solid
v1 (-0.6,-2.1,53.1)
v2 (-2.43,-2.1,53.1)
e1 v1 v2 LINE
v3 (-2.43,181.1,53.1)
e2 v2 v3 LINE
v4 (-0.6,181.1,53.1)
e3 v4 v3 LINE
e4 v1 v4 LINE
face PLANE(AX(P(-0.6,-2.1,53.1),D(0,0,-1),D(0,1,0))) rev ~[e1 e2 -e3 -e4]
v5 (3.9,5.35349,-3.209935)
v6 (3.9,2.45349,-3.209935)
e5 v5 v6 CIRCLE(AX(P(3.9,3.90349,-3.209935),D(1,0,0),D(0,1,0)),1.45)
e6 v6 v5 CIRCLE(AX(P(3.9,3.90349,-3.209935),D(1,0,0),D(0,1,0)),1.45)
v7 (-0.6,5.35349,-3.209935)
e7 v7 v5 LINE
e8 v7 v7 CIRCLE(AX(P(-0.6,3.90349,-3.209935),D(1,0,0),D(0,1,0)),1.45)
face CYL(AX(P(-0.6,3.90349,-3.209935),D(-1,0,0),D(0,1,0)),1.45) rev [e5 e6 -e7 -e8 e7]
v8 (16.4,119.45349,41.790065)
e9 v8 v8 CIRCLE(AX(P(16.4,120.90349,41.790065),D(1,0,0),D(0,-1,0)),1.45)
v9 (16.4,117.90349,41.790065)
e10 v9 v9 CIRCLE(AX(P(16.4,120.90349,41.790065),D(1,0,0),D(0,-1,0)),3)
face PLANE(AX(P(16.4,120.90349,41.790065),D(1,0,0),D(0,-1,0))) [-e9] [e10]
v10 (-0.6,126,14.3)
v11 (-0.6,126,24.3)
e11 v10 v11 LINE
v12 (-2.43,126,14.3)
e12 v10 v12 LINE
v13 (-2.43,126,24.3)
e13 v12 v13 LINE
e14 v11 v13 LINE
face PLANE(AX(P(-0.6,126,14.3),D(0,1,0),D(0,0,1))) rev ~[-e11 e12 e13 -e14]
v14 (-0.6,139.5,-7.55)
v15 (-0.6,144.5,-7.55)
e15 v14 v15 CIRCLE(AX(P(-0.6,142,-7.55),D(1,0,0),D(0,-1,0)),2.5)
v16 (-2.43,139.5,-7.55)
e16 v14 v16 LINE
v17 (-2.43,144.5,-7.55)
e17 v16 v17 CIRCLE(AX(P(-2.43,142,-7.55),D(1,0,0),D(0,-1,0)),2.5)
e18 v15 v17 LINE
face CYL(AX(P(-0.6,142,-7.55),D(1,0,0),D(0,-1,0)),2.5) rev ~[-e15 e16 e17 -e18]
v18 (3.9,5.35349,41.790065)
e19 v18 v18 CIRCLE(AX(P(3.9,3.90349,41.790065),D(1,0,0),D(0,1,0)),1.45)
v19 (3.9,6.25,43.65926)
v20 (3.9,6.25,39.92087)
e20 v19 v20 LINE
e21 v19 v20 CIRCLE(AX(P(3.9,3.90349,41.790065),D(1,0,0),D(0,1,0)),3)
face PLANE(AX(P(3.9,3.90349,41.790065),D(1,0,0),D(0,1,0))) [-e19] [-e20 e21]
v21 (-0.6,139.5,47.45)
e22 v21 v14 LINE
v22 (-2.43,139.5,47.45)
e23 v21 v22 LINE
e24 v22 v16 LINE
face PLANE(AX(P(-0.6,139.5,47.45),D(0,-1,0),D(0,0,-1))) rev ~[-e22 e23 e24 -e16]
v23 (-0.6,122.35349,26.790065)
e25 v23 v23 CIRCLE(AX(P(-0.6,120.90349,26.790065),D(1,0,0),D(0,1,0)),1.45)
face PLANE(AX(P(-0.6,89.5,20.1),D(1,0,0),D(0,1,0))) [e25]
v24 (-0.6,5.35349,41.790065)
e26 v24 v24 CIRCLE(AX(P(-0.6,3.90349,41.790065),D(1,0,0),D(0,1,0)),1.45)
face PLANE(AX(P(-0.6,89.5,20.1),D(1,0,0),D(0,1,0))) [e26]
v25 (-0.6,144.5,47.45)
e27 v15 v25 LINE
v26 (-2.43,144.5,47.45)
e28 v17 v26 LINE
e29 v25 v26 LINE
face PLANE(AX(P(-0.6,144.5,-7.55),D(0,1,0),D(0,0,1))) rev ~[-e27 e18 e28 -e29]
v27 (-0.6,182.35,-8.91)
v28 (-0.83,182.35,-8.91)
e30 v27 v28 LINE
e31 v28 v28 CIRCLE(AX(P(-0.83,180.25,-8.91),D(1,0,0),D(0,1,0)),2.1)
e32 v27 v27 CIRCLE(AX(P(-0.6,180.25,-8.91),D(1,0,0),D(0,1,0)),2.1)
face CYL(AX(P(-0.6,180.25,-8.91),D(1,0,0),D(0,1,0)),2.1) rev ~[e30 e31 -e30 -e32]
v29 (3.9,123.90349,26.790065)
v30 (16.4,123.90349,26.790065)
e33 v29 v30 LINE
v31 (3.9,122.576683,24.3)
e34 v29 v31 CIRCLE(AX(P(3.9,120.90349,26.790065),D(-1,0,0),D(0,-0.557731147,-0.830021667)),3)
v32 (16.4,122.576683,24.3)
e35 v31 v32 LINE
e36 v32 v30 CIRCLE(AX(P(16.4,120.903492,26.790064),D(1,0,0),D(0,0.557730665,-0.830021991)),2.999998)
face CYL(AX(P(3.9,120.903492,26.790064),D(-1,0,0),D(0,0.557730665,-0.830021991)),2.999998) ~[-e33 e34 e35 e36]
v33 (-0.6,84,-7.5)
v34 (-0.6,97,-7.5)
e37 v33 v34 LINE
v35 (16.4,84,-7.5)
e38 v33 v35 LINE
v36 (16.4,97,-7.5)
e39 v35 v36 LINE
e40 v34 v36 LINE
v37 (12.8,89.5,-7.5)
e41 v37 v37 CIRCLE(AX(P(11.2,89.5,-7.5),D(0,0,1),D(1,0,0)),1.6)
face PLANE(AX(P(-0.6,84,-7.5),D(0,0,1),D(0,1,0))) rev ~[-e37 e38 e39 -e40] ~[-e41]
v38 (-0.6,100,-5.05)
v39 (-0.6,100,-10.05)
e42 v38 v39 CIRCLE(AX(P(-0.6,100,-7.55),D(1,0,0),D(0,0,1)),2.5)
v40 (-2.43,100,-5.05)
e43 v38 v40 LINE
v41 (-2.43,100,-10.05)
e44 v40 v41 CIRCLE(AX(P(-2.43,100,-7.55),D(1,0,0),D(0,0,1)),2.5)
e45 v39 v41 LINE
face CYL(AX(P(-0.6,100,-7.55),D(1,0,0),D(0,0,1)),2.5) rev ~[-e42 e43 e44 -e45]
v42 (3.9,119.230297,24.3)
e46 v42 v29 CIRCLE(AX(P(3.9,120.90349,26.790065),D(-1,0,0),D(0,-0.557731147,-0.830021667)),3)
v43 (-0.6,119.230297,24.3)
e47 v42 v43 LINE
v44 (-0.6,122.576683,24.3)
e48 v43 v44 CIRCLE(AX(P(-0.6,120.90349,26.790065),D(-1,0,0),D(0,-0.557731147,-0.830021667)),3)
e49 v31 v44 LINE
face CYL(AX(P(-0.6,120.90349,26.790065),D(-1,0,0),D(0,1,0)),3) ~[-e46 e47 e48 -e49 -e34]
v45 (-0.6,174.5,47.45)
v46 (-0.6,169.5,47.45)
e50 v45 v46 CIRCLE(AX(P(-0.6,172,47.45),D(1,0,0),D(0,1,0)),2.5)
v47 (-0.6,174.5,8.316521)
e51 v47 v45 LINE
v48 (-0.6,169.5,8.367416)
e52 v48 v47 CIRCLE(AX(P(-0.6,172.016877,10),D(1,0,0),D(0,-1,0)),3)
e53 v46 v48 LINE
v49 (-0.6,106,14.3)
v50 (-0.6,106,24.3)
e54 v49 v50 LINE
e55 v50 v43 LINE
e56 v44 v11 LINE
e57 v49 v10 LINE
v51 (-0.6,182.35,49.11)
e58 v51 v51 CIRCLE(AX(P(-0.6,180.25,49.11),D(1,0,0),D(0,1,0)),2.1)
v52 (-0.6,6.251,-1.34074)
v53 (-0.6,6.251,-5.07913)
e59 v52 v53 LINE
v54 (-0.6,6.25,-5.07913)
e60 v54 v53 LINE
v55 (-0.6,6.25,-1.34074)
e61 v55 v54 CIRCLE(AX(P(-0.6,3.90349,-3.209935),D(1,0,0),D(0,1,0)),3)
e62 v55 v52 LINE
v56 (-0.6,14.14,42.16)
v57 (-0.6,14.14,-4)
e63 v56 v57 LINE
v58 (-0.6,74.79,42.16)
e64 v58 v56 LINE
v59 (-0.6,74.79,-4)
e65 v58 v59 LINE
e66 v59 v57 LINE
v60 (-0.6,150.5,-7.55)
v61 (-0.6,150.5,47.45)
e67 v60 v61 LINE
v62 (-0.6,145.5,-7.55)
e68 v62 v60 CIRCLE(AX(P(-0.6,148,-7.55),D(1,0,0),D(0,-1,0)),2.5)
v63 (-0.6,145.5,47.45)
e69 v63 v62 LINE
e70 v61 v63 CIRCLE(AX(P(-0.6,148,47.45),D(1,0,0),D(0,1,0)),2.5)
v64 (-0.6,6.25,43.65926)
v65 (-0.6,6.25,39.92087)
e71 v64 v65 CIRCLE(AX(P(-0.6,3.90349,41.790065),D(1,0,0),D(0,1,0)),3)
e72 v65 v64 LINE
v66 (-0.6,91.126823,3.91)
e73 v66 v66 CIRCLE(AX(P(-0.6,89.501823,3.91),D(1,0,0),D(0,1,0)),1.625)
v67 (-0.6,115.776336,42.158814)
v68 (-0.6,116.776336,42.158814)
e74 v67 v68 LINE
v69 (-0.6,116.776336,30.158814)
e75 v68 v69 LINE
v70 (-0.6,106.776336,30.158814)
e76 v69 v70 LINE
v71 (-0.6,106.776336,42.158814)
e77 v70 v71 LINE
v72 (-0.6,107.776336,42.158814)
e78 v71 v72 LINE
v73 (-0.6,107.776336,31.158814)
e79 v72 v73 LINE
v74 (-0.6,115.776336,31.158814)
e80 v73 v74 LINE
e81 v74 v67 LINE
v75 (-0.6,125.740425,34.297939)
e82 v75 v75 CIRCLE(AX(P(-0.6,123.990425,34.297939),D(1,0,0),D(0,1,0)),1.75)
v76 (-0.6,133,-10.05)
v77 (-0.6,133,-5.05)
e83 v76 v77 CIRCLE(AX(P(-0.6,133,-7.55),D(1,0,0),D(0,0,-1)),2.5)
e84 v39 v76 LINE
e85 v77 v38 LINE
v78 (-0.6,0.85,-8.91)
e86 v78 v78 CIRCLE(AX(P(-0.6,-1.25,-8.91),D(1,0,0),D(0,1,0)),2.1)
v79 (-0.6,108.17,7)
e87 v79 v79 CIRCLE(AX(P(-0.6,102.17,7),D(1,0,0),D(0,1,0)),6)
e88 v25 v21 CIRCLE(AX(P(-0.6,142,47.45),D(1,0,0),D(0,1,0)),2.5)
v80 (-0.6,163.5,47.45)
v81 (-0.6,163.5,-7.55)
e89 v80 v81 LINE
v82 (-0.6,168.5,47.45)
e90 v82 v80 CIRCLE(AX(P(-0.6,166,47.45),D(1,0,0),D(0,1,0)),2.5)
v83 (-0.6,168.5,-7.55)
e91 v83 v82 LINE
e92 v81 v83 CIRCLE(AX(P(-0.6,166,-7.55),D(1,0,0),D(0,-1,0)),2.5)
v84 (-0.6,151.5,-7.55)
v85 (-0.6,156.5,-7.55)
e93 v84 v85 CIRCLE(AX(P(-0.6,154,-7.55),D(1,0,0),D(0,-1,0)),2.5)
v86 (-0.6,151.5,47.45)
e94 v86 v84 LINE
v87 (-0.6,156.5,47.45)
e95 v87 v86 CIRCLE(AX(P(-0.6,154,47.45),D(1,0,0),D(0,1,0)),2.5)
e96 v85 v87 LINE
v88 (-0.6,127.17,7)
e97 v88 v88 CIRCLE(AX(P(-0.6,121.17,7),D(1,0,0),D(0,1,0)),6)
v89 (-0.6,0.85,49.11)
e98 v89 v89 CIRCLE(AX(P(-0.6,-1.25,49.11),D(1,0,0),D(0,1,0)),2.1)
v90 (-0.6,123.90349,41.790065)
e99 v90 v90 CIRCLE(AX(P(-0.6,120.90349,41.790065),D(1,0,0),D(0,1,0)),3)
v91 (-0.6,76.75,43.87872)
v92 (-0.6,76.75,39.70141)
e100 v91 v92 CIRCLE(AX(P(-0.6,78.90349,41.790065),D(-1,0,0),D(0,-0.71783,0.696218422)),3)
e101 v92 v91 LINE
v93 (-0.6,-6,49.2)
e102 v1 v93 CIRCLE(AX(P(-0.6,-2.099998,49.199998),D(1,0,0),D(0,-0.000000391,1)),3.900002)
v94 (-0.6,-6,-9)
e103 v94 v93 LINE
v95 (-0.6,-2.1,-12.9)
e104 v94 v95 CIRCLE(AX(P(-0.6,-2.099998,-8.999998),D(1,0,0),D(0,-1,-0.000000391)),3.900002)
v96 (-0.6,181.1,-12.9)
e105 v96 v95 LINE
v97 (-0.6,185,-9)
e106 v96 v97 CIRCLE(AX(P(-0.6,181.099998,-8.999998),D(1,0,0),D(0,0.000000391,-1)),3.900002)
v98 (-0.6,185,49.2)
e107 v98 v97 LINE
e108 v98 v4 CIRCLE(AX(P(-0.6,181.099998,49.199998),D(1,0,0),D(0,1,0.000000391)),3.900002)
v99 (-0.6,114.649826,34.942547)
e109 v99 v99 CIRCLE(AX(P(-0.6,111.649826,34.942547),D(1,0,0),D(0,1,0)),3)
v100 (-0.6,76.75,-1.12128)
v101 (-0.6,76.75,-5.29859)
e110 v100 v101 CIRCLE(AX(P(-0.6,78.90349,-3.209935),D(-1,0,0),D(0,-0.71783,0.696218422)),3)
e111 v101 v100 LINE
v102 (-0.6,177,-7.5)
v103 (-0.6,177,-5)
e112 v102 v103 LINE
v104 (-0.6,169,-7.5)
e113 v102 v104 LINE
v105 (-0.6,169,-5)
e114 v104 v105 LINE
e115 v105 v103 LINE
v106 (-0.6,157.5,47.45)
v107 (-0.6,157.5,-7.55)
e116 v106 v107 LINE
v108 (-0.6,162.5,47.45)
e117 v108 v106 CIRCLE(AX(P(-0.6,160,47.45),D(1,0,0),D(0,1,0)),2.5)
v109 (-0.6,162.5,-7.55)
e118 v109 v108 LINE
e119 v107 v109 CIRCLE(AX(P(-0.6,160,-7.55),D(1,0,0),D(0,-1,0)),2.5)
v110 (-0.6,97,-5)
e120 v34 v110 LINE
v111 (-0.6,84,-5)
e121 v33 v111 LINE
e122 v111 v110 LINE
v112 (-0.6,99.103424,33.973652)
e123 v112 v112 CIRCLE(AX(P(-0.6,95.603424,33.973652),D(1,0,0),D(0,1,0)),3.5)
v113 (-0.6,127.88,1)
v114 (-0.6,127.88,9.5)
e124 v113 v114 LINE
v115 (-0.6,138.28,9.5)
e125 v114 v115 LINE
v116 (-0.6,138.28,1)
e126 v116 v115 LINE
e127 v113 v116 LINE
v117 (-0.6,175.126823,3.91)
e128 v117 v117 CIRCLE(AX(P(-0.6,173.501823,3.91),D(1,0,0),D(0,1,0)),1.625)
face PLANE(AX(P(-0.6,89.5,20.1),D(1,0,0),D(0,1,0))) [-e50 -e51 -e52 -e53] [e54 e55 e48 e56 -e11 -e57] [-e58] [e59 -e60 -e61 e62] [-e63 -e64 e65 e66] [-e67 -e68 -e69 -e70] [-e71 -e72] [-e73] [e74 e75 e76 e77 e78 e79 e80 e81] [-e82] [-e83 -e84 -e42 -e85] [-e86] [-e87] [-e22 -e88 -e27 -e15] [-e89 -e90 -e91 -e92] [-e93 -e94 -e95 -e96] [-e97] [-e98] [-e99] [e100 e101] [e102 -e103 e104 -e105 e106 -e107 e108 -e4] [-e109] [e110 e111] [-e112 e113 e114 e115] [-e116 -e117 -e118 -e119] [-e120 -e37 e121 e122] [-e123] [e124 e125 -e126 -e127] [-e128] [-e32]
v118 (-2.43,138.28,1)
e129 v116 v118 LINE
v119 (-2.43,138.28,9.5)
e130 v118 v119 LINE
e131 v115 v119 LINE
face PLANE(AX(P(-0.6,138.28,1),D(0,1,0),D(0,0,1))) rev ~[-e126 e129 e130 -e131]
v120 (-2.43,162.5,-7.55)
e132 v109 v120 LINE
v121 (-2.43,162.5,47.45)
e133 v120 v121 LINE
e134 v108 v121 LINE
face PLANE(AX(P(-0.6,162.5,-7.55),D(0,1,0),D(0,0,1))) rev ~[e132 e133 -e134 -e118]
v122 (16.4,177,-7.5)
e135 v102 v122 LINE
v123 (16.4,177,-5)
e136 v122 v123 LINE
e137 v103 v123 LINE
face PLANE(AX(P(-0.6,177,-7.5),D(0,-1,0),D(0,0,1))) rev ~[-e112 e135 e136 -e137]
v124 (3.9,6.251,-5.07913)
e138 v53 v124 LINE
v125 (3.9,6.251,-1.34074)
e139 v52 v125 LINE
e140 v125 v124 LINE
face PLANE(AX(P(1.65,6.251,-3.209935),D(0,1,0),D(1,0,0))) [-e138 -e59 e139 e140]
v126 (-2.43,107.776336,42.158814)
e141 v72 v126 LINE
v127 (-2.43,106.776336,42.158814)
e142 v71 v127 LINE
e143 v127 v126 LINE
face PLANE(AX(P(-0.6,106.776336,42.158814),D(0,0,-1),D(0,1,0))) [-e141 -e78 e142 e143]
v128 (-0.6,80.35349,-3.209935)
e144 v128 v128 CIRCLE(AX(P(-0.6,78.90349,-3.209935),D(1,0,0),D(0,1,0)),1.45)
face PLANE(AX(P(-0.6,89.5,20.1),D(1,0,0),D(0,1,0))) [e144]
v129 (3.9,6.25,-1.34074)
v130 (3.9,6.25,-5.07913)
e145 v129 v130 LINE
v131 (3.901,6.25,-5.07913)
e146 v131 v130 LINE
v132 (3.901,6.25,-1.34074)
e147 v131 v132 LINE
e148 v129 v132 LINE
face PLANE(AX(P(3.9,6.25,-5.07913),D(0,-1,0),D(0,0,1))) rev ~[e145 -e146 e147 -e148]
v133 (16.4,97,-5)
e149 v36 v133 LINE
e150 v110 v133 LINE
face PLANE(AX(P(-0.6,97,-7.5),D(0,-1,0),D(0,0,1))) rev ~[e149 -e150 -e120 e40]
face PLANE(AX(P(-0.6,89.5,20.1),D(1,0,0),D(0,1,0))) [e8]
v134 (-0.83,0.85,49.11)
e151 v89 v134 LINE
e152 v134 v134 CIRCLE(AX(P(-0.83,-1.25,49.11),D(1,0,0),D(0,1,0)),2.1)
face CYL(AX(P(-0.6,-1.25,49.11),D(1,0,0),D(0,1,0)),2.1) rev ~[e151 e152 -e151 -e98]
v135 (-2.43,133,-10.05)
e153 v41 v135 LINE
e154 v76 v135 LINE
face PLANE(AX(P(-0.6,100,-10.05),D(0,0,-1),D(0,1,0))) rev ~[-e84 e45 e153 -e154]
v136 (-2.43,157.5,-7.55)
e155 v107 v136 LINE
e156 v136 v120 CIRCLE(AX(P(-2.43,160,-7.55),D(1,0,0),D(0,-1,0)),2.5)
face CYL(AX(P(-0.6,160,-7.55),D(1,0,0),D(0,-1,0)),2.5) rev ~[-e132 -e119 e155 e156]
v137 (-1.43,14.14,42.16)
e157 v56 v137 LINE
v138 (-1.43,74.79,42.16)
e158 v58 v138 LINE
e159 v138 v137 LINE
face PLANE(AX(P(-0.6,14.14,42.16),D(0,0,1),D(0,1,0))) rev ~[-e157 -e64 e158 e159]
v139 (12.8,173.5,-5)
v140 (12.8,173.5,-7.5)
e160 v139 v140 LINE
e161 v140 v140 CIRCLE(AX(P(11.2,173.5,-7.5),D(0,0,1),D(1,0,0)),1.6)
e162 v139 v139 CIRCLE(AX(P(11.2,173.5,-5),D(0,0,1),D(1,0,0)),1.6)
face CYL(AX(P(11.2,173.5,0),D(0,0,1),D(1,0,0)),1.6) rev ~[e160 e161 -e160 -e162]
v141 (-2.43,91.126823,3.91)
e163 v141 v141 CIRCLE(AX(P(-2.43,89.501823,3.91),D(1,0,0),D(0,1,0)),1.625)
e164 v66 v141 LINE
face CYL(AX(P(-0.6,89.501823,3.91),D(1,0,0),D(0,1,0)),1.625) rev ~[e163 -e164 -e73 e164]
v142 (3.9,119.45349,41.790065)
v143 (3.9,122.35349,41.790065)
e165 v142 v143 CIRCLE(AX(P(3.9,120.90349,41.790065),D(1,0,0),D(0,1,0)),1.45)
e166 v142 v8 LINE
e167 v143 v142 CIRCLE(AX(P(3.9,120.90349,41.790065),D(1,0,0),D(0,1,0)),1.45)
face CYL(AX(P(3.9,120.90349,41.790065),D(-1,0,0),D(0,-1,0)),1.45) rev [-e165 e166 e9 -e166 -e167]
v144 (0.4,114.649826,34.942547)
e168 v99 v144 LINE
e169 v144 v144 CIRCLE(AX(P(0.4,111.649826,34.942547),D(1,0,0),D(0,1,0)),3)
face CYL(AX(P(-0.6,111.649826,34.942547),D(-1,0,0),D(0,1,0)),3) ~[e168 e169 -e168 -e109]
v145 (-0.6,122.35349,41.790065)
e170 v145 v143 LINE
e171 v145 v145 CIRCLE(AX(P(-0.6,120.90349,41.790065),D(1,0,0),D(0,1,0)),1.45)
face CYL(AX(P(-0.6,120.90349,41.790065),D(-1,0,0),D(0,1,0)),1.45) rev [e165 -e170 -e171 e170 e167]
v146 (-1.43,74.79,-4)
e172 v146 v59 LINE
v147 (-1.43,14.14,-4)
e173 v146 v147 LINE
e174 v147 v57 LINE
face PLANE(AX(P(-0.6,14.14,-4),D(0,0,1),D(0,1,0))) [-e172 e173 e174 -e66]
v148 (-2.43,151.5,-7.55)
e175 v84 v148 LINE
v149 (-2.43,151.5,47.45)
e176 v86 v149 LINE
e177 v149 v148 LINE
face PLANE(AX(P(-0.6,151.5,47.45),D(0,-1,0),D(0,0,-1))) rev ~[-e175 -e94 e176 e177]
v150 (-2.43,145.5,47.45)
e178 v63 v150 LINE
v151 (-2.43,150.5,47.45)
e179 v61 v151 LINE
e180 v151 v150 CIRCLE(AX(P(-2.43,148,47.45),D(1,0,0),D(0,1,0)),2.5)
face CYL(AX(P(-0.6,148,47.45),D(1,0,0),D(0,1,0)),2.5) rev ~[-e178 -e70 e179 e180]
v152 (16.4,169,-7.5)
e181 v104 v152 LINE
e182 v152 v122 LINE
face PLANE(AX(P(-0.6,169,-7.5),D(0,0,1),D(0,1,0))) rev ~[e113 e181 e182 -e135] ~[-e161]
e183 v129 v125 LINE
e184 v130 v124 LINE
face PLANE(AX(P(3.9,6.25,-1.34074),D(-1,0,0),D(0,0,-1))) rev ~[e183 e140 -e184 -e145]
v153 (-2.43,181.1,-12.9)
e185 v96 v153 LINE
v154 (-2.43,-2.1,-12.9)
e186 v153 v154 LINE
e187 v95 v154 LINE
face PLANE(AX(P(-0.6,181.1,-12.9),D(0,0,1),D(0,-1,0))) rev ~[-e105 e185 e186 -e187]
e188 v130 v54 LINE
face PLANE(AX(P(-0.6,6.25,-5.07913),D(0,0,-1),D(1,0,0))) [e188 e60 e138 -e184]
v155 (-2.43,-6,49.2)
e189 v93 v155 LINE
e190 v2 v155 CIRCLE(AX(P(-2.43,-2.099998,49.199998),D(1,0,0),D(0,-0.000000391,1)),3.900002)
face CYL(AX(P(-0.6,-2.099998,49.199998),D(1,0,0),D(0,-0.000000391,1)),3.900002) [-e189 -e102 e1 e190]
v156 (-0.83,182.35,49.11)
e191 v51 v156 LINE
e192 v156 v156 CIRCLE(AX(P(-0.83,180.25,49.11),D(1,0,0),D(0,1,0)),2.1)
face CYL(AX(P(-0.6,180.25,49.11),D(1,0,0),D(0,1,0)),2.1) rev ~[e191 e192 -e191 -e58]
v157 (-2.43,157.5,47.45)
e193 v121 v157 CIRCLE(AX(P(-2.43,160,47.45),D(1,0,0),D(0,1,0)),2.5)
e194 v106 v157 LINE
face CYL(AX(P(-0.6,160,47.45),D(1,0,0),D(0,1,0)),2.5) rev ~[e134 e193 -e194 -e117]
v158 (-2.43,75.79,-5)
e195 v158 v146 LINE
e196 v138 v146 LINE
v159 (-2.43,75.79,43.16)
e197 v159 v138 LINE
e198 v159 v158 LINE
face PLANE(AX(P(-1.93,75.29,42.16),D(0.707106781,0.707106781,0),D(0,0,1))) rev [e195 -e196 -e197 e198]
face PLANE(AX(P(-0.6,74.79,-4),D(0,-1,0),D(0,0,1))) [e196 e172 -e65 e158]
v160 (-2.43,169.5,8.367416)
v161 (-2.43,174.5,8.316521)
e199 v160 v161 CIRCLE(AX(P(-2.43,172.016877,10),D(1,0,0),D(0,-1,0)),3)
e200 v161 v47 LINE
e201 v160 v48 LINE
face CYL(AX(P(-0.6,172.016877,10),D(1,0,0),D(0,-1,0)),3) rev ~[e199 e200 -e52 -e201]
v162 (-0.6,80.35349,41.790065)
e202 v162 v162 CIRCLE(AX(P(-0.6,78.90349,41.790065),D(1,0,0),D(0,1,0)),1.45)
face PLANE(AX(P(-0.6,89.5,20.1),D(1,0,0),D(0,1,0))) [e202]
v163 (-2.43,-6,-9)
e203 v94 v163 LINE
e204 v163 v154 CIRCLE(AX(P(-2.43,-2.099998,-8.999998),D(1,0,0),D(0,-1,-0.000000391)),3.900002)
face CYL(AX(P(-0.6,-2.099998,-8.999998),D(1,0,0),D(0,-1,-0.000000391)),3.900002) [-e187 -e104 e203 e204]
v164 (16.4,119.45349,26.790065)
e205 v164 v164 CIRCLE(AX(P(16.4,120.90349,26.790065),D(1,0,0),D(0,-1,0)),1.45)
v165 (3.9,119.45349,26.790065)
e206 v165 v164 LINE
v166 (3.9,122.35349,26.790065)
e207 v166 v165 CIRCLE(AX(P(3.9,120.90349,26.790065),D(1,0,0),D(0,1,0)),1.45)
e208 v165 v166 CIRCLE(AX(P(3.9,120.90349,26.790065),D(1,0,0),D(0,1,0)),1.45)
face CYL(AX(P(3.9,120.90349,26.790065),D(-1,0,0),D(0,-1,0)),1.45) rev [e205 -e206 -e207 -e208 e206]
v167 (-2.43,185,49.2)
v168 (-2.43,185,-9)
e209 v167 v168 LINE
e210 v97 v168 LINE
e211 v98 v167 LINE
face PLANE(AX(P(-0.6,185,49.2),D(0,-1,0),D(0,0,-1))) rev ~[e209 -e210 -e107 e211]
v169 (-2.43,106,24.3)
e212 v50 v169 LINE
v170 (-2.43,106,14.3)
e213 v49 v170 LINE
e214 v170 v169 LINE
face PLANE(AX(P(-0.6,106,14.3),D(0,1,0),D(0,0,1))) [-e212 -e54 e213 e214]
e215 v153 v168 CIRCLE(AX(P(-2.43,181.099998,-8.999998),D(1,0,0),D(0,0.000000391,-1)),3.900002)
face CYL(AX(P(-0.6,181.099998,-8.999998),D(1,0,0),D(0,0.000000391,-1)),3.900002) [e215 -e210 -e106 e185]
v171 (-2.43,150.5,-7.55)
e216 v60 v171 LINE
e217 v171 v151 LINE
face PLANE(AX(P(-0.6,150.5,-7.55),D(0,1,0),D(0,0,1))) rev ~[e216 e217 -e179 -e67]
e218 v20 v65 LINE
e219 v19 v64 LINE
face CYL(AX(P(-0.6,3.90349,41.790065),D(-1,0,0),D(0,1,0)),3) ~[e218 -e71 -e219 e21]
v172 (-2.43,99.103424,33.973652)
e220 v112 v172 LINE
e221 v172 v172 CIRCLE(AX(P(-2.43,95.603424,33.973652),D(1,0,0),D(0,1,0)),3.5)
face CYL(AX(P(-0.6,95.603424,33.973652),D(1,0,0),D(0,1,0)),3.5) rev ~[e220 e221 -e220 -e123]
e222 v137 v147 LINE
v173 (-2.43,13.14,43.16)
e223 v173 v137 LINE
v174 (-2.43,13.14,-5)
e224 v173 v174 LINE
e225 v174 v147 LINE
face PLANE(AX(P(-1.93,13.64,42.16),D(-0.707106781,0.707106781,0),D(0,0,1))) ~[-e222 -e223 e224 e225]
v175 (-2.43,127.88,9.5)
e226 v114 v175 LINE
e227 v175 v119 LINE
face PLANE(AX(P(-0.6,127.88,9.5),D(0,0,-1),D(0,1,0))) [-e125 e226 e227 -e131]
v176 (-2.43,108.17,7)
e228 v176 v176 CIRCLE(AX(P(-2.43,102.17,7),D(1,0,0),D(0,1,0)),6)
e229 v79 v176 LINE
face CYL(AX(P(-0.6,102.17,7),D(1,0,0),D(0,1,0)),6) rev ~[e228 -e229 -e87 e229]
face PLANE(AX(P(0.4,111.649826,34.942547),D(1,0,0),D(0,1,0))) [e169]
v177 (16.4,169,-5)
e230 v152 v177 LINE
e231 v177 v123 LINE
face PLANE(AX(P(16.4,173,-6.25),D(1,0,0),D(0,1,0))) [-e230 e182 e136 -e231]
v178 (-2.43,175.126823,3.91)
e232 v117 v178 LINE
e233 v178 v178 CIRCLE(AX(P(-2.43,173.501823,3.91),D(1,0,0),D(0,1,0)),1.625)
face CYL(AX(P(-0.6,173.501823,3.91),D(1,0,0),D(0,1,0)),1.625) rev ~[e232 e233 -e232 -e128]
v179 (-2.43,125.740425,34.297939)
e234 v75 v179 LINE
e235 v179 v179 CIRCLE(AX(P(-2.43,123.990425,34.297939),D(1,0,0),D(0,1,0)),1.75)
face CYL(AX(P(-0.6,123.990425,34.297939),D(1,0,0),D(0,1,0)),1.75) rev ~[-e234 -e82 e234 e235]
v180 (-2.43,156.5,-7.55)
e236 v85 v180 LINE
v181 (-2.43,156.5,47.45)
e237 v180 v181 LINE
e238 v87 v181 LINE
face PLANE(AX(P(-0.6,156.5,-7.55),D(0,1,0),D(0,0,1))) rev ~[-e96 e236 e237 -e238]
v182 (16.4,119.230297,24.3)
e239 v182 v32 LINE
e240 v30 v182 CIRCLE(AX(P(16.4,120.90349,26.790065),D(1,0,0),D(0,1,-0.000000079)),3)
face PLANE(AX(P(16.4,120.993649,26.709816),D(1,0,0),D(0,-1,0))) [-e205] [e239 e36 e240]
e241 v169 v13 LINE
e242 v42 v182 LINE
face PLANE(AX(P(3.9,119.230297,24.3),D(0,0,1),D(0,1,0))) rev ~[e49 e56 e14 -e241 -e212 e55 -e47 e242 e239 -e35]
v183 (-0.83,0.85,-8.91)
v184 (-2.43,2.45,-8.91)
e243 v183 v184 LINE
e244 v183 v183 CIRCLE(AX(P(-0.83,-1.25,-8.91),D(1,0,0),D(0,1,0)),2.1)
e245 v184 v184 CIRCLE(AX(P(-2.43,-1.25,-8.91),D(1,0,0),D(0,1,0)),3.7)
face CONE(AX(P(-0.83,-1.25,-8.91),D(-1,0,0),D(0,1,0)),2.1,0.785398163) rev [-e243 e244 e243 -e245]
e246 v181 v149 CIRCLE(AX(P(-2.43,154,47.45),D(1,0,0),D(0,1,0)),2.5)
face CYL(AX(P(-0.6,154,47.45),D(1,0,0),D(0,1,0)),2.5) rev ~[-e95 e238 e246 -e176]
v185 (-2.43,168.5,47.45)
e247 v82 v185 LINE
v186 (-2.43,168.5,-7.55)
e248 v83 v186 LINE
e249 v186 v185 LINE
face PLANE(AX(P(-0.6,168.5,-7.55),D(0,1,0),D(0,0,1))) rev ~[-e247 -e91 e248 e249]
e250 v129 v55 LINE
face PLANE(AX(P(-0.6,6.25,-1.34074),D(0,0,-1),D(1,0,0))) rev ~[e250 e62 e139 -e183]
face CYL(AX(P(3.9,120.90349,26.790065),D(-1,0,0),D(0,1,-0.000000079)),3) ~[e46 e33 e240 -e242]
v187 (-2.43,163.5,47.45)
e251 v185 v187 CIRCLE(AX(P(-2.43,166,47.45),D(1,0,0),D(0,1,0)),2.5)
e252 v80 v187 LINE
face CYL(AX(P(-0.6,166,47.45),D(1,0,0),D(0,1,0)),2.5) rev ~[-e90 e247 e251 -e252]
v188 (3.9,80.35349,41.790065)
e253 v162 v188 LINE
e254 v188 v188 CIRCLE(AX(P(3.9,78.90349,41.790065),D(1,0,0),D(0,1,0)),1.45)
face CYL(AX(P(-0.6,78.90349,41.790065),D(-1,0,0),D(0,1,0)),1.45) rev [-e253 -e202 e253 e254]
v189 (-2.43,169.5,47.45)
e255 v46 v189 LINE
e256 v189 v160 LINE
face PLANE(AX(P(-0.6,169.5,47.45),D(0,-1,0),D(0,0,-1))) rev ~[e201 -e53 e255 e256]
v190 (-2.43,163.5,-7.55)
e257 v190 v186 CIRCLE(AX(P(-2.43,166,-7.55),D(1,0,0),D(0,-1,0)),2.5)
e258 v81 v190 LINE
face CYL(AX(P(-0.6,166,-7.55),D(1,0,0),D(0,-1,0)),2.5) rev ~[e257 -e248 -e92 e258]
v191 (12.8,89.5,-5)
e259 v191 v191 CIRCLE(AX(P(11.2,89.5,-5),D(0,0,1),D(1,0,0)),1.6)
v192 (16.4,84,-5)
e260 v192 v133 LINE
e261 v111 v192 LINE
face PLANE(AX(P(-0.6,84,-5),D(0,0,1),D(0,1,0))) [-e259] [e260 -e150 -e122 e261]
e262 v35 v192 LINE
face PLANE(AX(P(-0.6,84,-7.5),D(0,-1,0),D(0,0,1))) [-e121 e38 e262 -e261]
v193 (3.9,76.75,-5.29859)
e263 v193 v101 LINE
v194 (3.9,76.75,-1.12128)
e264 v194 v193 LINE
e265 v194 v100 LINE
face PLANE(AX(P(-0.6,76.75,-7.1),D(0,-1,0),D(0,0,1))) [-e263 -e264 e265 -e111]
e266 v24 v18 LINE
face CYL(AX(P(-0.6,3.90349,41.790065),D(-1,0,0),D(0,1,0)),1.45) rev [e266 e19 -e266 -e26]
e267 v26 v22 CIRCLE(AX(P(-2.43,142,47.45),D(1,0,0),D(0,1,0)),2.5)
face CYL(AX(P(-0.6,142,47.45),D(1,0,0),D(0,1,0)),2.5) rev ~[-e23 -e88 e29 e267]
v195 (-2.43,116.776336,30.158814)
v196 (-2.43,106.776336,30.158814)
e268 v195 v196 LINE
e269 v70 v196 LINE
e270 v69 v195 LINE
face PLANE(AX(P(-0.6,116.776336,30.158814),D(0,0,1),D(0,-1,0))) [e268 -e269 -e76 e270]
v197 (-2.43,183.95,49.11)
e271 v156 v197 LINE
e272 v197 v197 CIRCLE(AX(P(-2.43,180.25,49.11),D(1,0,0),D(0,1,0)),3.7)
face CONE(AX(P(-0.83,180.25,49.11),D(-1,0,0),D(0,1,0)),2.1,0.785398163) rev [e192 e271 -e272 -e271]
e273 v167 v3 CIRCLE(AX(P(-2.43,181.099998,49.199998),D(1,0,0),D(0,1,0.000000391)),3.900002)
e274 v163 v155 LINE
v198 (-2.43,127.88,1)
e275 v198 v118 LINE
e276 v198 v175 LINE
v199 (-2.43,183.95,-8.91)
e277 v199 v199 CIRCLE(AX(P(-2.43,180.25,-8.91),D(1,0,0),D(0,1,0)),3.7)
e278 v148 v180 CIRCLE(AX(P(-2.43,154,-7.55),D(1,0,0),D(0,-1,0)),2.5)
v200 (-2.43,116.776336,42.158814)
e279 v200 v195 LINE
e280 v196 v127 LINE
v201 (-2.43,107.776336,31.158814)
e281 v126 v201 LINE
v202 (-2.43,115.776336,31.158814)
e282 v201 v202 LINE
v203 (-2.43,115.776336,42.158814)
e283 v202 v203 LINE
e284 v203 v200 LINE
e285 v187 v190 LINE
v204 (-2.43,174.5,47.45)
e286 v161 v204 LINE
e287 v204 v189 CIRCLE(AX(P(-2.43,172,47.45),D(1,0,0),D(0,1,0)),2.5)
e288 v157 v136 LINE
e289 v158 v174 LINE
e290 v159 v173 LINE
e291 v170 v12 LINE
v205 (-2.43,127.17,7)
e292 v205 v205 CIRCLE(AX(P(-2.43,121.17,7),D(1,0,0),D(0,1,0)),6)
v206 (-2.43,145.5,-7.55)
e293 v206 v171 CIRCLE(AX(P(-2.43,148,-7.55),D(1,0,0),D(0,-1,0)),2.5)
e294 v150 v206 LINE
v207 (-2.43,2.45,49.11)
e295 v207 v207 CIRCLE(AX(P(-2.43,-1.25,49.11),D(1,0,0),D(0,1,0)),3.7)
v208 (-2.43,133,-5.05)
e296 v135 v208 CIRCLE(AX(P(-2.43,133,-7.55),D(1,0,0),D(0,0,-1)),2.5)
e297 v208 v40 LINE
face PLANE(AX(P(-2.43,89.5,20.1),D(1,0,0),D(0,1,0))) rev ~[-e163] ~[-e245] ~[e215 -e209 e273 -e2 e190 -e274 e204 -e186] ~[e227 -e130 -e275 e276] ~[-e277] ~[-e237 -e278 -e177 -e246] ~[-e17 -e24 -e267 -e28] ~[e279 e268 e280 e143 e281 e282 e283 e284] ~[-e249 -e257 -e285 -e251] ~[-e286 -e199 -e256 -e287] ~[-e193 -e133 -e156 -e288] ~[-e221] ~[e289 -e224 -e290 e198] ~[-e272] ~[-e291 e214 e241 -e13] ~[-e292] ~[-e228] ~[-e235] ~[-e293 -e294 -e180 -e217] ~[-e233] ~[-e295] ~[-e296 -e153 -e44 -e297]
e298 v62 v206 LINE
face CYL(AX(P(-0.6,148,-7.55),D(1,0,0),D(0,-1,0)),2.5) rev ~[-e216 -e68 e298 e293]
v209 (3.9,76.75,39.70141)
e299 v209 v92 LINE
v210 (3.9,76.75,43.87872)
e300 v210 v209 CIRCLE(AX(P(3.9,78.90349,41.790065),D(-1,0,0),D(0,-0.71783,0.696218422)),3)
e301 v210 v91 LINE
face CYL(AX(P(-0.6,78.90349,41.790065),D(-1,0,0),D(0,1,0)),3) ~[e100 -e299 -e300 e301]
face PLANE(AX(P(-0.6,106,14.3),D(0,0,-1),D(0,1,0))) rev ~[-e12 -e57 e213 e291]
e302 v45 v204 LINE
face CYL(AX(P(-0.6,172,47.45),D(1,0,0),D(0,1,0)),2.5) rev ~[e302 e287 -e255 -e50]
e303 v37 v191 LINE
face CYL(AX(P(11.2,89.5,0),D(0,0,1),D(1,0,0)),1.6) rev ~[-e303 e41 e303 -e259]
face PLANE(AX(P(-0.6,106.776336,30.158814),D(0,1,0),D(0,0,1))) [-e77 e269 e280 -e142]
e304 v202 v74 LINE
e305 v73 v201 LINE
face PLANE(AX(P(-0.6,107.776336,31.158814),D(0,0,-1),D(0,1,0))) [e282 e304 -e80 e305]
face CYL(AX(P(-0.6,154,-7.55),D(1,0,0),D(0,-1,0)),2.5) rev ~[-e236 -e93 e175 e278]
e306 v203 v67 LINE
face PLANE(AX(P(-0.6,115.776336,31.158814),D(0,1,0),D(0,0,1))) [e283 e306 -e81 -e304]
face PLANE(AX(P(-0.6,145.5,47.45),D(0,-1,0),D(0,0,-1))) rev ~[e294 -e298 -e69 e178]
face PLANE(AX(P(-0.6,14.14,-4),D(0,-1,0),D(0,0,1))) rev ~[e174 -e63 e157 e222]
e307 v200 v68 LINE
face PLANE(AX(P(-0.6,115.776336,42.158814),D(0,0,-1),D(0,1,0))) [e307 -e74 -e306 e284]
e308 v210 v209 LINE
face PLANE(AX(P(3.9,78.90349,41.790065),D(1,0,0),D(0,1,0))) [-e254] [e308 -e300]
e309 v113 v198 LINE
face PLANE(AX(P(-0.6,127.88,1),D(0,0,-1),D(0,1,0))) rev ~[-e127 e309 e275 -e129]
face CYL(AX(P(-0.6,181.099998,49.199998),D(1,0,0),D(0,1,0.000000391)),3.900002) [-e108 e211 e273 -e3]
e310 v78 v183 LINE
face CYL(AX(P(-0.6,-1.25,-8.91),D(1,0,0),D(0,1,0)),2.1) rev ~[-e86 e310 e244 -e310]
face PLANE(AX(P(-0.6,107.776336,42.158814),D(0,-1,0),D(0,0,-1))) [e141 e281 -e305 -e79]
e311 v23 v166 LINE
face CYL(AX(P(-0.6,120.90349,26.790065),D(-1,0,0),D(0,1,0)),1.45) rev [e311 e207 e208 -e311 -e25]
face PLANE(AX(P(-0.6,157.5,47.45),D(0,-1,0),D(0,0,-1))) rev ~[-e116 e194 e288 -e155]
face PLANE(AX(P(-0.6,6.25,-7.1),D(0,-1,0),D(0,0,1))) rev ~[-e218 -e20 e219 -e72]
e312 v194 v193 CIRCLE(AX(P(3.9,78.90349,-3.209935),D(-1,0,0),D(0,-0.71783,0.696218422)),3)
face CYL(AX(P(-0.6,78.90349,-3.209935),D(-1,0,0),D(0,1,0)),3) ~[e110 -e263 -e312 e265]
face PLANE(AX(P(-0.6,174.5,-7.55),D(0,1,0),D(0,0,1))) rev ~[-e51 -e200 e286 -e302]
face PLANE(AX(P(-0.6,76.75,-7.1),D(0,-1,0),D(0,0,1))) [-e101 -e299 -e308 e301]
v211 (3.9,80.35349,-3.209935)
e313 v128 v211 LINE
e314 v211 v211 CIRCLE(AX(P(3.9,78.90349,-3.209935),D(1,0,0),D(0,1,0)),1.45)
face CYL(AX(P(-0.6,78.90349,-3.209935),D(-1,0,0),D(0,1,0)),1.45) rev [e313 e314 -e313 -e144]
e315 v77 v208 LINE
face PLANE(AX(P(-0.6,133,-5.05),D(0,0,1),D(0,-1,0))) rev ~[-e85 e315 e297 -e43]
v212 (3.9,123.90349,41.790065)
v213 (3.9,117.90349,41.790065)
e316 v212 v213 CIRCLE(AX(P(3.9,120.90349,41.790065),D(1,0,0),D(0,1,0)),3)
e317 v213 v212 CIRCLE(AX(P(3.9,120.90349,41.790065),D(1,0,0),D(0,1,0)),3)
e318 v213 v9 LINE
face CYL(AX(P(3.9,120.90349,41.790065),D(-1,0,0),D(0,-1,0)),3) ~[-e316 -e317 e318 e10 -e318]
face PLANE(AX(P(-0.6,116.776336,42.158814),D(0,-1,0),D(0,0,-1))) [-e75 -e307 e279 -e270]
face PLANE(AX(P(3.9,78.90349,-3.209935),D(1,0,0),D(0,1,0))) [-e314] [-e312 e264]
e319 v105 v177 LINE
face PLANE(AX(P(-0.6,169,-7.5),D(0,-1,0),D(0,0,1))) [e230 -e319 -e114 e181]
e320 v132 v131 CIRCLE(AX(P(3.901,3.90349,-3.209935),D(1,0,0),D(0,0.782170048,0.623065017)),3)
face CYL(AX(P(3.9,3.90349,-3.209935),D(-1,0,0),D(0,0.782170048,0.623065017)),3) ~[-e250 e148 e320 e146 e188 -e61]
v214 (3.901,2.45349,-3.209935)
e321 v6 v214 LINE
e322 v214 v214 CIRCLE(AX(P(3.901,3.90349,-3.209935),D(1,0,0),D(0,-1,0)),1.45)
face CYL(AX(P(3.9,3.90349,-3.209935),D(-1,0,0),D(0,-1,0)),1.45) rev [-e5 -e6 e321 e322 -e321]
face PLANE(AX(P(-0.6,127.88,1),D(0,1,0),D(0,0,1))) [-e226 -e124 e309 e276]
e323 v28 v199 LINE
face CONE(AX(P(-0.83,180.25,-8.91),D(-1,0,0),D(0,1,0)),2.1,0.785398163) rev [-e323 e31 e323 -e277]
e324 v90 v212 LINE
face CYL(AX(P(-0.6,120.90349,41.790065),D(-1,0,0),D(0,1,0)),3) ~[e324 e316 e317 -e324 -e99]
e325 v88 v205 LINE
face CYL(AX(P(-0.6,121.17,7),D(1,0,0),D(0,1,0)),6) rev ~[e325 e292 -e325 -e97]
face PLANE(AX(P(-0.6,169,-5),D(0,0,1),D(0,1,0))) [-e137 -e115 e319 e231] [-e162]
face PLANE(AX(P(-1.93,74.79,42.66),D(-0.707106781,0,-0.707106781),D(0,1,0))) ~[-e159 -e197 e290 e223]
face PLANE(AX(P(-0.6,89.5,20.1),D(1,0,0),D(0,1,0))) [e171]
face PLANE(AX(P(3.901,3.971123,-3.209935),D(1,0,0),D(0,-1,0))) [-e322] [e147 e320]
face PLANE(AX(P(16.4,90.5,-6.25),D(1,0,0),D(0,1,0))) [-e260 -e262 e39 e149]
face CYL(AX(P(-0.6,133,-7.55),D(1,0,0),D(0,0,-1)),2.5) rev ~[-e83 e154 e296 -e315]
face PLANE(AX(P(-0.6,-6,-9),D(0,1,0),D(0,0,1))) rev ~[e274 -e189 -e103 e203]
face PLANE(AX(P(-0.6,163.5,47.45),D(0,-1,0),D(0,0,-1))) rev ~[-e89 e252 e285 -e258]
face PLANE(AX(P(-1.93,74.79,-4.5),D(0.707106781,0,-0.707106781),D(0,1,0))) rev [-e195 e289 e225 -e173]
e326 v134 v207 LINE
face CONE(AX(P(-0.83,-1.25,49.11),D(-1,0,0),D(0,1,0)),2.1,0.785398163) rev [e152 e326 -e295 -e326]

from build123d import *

# Parameters (mm, degrees)
SKETCH007_R           = 2.1
PAD004_DEPTH          = 1.83
CHAMFER_SIZE          = 1.6
SKETCH010_R           = 6
SKETCH010_W           = 10.4
SKETCH010_H           = 8.5
POCKET003_DEPTH       = 5
SKETCH012_R           = 3
SKETCH012_R_2         = 1.45
PAD005_DEPTH          = 4.5
SKETCH011_R           = 1.75
SKETCH011_R_2         = 3.5
SKETCH011_W           = 60.65
SKETCH011_H           = 46.16
POCKET004_DEPTH       = 7.5
CHAMFER001_SIZE       = 1
SKETCH013_W           = 70.5
SKETCH013_H           = 53
POCKET005_DEPTH       = 5
POCKET005_FACE89_R    = 1.45
PAD006_DEPTH          = 0.001
PAD006_FACE88_W       = 4.5
PAD006_FACE88_H       = 3.73839
PAD007_DEPTH          = 0.001
SKETCH014_W           = 13
SKETCH014_H           = 2.5
SKETCH014_W_2         = 8
PAD008_DEPTH          = 17
SKETCH015_R           = 1.6
POCKET006_DEPTH       = 16
PAD009_DEPTH          = 1.83
SKETCH017_R           = 1.625
POCKET007_DEPTH       = 5
SKETCH018_R           = 3
PAD010_DEPTH          = 1
SKETCH019_W           = 20
SKETCH019_H           = 10
POCKET008_DEPTH       = 1.831
POCKET008_DEPTH_BACK  = 17.001
POCKET008_FACE112_R   = 3
POCKET008_FACE112_R_2 = 1.45
PAD011_DEPTH          = 12.5
PAD011_FACE77_R       = 1.45
PAD012_DEPTH          = 12.5


with BuildPart() as part:
    # Sketch007 → Pad004 (new body)
    with BuildSketch(Plane.YZ):
        with BuildLine():
            ThreePointArc((185, 49.2), (183.857716, 51.957716), (181.1, 53.1))
            Line((-2.1, 53.1), (181.1, 53.1))
            ThreePointArc((-2.1, 53.1), (-4.857716, 51.957716), (-6, 49.2))
            Line((-6, -9), (-6, 49.2))
            ThreePointArc((-6, -9), (-4.857716, -11.757716), (-2.1, -12.9))
            Line((181.1, -12.9), (-2.1, -12.9))
            ThreePointArc((181.1, -12.9), (183.857716, -11.757716), (185, -9))
            Line((185, 49.2), (185, -9))
        make_face()
        with Locations((180.25, 49.11)):
            Circle(SKETCH007_R, mode=Mode.SUBTRACT)
        with Locations((180.25, -8.91)):
            Circle(SKETCH007_R, mode=Mode.SUBTRACT)
        with Locations((-1.25, -8.91)):
            Circle(SKETCH007_R, mode=Mode.SUBTRACT)
        with Locations((-1.25, 49.11)):
            Circle(SKETCH007_R, mode=Mode.SUBTRACT)
    extrude(amount=-PAD004_DEPTH)

    # Chamfer
    chamfer_edges = [part.edges().sort_by_distance(p)[0] for p in [
        (-1.83, 178.15, -8.91),
        (-1.83, 178.15, 49.11),
        (-1.83, -3.35, 49.11),
        (-1.83, -3.35, -8.91),
    ]]
    chamfer(chamfer_edges, length=CHAMFER_SIZE)

    # Sketch010 → Pocket003 (cut)
    with BuildSketch(Plane.YZ):
        with Locations((121.17, 7)):
            Circle(SKETCH010_R)
        with Locations((102.17, 7)):
            Circle(SKETCH010_R)
        with Locations((133.08, 5.25)):
            Rectangle(SKETCH010_W, SKETCH010_H)
        with BuildLine():
            ThreePointArc((174.5, 47.45), (172, 49.95), (169.5, 47.45))
            Line((169.5, 47.45), (169.5, -7.55))
            ThreePointArc((169.5, -7.55), (172, -10.05), (174.5, -7.55))
            Line((174.5, -7.55), (174.5, 47.45))
        make_face()
        with BuildLine():
            ThreePointArc((168.5, 47.45), (166, 49.95), (163.5, 47.45))
            Line((163.5, 47.45), (163.5, -7.55))
            ThreePointArc((163.5, -7.55), (166, -10.05), (168.5, -7.55))
            Line((168.5, -7.55), (168.5, 47.45))
        make_face()
        with BuildLine():
            ThreePointArc((162.5, 47.45), (160, 49.95), (157.5, 47.45))
            Line((157.5, 47.45), (157.5, -7.55))
            ThreePointArc((157.5, -7.55), (160, -10.05), (162.5, -7.55))
            Line((162.5, -7.55), (162.5, 47.45))
        make_face()
        with BuildLine():
            ThreePointArc((156.5, 47.45), (154, 49.95), (151.5, 47.45))
            Line((151.5, 47.45), (151.5, -7.55))
            ThreePointArc((151.5, -7.55), (154, -10.05), (156.5, -7.55))
            Line((156.5, -7.55), (156.5, 47.45))
        make_face()
        with BuildLine():
            ThreePointArc((150.5, 47.45), (148, 49.95), (145.5, 47.45))
            Line((145.5, 47.45), (145.5, -7.55))
            ThreePointArc((145.5, -7.55), (148, -10.05), (150.5, -7.55))
            Line((150.5, -7.55), (150.5, 47.45))
        make_face()
        with BuildLine():
            ThreePointArc((144.5, 47.45), (142, 49.95), (139.5, 47.45))
            Line((139.5, 47.45), (139.5, -7.55))
            ThreePointArc((139.5, -7.55), (142, -10.05), (144.5, -7.55))
            Line((144.5, -7.55), (144.5, 47.45))
        make_face()
    extrude(amount=-POCKET003_DEPTH, mode=Mode.SUBTRACT)

    # Sketch012 → Pad005 (join)
    with BuildSketch(Plane.YZ):
        with Locations((3.90349, -3.209935)):
            Circle(SKETCH012_R)
        with Locations((3.90349, -3.209935)):
            Circle(SKETCH012_R_2, mode=Mode.SUBTRACT)
        with Locations((3.90349, 41.790065)):
            Circle(SKETCH012_R)
        with Locations((3.90349, 41.790065)):
            Circle(SKETCH012_R_2, mode=Mode.SUBTRACT)
        with Locations((78.90349, 41.790065)):
            Circle(SKETCH012_R)
        with Locations((78.90349, 41.790065)):
            Circle(SKETCH012_R_2, mode=Mode.SUBTRACT)
        with Locations((120.90349, 41.790065)):
            Circle(SKETCH012_R)
        with Locations((120.90349, 41.790065)):
            Circle(SKETCH012_R_2, mode=Mode.SUBTRACT)
        with Locations((120.90349, 26.790065)):
            Circle(SKETCH012_R)
        with Locations((120.90349, 26.790065)):
            Circle(SKETCH012_R_2, mode=Mode.SUBTRACT)
        with Locations((78.90349, -3.209935)):
            Circle(SKETCH012_R)
        with Locations((78.90349, -3.209935)):
            Circle(SKETCH012_R_2, mode=Mode.SUBTRACT)
    extrude(amount=PAD005_DEPTH)

    # Sketch011 → Pocket004 (cut, symmetric)
    with BuildSketch(Plane.YZ):
        with Locations((123.990425, 34.297939)):
            Circle(SKETCH011_R)
        with Locations((95.603424, 33.973652)):
            Circle(SKETCH011_R_2)
        with Locations((44.465, 19.08)):
            Rectangle(SKETCH011_W, SKETCH011_H)
        Polygon((116.776336, 42.158814), (116.776336, 30.158814), (106.776336, 30.158814), (106.776336, 42.158814), (107.776336, 42.158814), (107.776336, 31.158814), (115.776336, 31.158814), (115.776336, 42.158814), align=None)
    extrude(amount=POCKET004_DEPTH, both=True, mode=Mode.SUBTRACT)

    # Chamfer001
    chamfer001_edges = [part.edges().sort_by_distance(p)[0] for p in [
        (-1.83, 74.79, 19.08),
        (-1.83, 44.465, 42.16),
        (-1.83, 14.14, 19.08),
        (-1.83, 44.465, -4),
    ]]
    chamfer(chamfer001_edges, length=CHAMFER001_SIZE)

    # Sketch013 → Pocket005 (cut)
    with BuildSketch(Plane.YZ):
        with Locations((41.5, 19.4)):
            Rectangle(SKETCH013_W, SKETCH013_H)
    extrude(amount=POCKET005_DEPTH, mode=Mode.SUBTRACT)

    # Pocket005 Face89 → Pad006 (add)
    with BuildSketch(Plane(origin=(4.5, 3.685812, -3.209935), x_dir=(0, -1, 0), z_dir=(1, 0, 0))):
        with BuildLine():
            Line((-2.564188, 1.869195), (-2.564188, -1.869195))
            ThreePointArc((-2.564188, -1.869195), (2.782322, 0), (-2.564188, 1.869195))
        make_face()
        with Locations((-0.217678, 0)):
            Circle(POCKET005_FACE89_R, mode=Mode.SUBTRACT)
    extrude(amount=PAD006_DEPTH)

    # Pad006 Face88 → Pad007 (add)
    with BuildSketch(Plane(origin=(2.25, 6.25, -3.209935), x_dir=(1, 0, 0), z_dir=(0, 1, 0))):
        Rectangle(PAD006_FACE88_W, PAD006_FACE88_H)
    extrude(amount=PAD007_DEPTH)

    # Sketch014 → Pad008 (join)
    with BuildSketch(Plane.YZ):
        with Locations((90.5, -6.25)):
            Rectangle(SKETCH014_W, SKETCH014_H)
        with Locations((173, -6.25)):
            Rectangle(SKETCH014_W_2, SKETCH014_H)
    extrude(amount=PAD008_DEPTH)

    # Sketch015 → Pocket006 (cut, symmetric)
    with BuildSketch(Plane.XY):
        with Locations((11.8, 173.5)):
            Circle(SKETCH015_R)
        with Locations((11.8, 89.5)):
            Circle(SKETCH015_R)
    extrude(amount=POCKET006_DEPTH, both=True, mode=Mode.SUBTRACT)

    # Sketch016 → Pad009 (join)
    with BuildSketch(Plane.YZ):
        with BuildLine():
            Line((169.016877, 10), (169.016877, -11))
            Line((169.016877, -11), (175.016877, -11))
            Line((175.016877, -11), (175.016877, 10))
            ThreePointArc((169.016877, 10), (172.016877, 7), (175.016877, 10))
        make_face()
    extrude(amount=-PAD009_DEPTH)

    # Sketch017 → Pocket007 (cut)
    with BuildSketch(Plane.YZ):
        with Locations((173.501823, 3.91)):
            Circle(SKETCH017_R)
        with Locations((89.501823, 3.91)):
            Circle(SKETCH017_R)
        with BuildLine():
            ThreePointArc((133, -10.05), (135.5, -7.55), (133, -5.05))
            Line((133, -5.05), (100, -5.05))
            ThreePointArc((100, -5.05), (97.5, -7.55), (100, -10.05))
            Line((100, -10.05), (133, -10.05))
        make_face()
    extrude(amount=-POCKET007_DEPTH, mode=Mode.SUBTRACT)

    # Sketch018 → Pad010 (join)
    with BuildSketch(Plane.YZ):
        with Locations((111.649826, 34.942547)):
            Circle(SKETCH018_R)
    extrude(amount=PAD010_DEPTH)

    # Sketch019 → Pocket008 (cut, two sides)
    with BuildSketch(Plane.YZ) as pocket008_sk:
        with Locations((116, 19.3)):
            Rectangle(SKETCH019_W, SKETCH019_H)
    extrude(amount=-POCKET008_DEPTH, mode=Mode.SUBTRACT)
    extrude(pocket008_sk.sketch, amount=POCKET008_DEPTH_BACK, mode=Mode.SUBTRACT)

    # Pocket008 Face112 → Pad011 (add)
    with BuildSketch(Plane(origin=(4.5, 120.90349, 41.790065), x_dir=(0, -1, 0), z_dir=(1, 0, 0))):
        Circle(POCKET008_FACE112_R)
        Circle(POCKET008_FACE112_R_2, mode=Mode.SUBTRACT)
    extrude(amount=PAD011_DEPTH)

    # Pad011 Face77 → Pad012 (add)
    with BuildSketch(Plane(origin=(4.5, 120.90349, 26.942319), x_dir=(0, -1, 0), z_dir=(1, 0, 0))):
        with BuildLine():
            ThreePointArc((-1.673193, 2.642319), (-2.647601, 1.563002), (-3, 0.152254))
            ThreePointArc((-3, 0.152254), (1.410748, -2.495347), (1.673193, 2.642319))
            Line((1.673193, 2.642319), (-1.673193, 2.642319))
        make_face()
        with Locations((0, 0.152254)):
            Circle(PAD011_FACE77_R, mode=Mode.SUBTRACT)
    extrude(amount=PAD012_DEPTH)


with BuildPart() as part_1:
    # Body002 placement: moved
    add(part.part.moved(Location((-0.6, 0, 0))))


solid = part_1.part
